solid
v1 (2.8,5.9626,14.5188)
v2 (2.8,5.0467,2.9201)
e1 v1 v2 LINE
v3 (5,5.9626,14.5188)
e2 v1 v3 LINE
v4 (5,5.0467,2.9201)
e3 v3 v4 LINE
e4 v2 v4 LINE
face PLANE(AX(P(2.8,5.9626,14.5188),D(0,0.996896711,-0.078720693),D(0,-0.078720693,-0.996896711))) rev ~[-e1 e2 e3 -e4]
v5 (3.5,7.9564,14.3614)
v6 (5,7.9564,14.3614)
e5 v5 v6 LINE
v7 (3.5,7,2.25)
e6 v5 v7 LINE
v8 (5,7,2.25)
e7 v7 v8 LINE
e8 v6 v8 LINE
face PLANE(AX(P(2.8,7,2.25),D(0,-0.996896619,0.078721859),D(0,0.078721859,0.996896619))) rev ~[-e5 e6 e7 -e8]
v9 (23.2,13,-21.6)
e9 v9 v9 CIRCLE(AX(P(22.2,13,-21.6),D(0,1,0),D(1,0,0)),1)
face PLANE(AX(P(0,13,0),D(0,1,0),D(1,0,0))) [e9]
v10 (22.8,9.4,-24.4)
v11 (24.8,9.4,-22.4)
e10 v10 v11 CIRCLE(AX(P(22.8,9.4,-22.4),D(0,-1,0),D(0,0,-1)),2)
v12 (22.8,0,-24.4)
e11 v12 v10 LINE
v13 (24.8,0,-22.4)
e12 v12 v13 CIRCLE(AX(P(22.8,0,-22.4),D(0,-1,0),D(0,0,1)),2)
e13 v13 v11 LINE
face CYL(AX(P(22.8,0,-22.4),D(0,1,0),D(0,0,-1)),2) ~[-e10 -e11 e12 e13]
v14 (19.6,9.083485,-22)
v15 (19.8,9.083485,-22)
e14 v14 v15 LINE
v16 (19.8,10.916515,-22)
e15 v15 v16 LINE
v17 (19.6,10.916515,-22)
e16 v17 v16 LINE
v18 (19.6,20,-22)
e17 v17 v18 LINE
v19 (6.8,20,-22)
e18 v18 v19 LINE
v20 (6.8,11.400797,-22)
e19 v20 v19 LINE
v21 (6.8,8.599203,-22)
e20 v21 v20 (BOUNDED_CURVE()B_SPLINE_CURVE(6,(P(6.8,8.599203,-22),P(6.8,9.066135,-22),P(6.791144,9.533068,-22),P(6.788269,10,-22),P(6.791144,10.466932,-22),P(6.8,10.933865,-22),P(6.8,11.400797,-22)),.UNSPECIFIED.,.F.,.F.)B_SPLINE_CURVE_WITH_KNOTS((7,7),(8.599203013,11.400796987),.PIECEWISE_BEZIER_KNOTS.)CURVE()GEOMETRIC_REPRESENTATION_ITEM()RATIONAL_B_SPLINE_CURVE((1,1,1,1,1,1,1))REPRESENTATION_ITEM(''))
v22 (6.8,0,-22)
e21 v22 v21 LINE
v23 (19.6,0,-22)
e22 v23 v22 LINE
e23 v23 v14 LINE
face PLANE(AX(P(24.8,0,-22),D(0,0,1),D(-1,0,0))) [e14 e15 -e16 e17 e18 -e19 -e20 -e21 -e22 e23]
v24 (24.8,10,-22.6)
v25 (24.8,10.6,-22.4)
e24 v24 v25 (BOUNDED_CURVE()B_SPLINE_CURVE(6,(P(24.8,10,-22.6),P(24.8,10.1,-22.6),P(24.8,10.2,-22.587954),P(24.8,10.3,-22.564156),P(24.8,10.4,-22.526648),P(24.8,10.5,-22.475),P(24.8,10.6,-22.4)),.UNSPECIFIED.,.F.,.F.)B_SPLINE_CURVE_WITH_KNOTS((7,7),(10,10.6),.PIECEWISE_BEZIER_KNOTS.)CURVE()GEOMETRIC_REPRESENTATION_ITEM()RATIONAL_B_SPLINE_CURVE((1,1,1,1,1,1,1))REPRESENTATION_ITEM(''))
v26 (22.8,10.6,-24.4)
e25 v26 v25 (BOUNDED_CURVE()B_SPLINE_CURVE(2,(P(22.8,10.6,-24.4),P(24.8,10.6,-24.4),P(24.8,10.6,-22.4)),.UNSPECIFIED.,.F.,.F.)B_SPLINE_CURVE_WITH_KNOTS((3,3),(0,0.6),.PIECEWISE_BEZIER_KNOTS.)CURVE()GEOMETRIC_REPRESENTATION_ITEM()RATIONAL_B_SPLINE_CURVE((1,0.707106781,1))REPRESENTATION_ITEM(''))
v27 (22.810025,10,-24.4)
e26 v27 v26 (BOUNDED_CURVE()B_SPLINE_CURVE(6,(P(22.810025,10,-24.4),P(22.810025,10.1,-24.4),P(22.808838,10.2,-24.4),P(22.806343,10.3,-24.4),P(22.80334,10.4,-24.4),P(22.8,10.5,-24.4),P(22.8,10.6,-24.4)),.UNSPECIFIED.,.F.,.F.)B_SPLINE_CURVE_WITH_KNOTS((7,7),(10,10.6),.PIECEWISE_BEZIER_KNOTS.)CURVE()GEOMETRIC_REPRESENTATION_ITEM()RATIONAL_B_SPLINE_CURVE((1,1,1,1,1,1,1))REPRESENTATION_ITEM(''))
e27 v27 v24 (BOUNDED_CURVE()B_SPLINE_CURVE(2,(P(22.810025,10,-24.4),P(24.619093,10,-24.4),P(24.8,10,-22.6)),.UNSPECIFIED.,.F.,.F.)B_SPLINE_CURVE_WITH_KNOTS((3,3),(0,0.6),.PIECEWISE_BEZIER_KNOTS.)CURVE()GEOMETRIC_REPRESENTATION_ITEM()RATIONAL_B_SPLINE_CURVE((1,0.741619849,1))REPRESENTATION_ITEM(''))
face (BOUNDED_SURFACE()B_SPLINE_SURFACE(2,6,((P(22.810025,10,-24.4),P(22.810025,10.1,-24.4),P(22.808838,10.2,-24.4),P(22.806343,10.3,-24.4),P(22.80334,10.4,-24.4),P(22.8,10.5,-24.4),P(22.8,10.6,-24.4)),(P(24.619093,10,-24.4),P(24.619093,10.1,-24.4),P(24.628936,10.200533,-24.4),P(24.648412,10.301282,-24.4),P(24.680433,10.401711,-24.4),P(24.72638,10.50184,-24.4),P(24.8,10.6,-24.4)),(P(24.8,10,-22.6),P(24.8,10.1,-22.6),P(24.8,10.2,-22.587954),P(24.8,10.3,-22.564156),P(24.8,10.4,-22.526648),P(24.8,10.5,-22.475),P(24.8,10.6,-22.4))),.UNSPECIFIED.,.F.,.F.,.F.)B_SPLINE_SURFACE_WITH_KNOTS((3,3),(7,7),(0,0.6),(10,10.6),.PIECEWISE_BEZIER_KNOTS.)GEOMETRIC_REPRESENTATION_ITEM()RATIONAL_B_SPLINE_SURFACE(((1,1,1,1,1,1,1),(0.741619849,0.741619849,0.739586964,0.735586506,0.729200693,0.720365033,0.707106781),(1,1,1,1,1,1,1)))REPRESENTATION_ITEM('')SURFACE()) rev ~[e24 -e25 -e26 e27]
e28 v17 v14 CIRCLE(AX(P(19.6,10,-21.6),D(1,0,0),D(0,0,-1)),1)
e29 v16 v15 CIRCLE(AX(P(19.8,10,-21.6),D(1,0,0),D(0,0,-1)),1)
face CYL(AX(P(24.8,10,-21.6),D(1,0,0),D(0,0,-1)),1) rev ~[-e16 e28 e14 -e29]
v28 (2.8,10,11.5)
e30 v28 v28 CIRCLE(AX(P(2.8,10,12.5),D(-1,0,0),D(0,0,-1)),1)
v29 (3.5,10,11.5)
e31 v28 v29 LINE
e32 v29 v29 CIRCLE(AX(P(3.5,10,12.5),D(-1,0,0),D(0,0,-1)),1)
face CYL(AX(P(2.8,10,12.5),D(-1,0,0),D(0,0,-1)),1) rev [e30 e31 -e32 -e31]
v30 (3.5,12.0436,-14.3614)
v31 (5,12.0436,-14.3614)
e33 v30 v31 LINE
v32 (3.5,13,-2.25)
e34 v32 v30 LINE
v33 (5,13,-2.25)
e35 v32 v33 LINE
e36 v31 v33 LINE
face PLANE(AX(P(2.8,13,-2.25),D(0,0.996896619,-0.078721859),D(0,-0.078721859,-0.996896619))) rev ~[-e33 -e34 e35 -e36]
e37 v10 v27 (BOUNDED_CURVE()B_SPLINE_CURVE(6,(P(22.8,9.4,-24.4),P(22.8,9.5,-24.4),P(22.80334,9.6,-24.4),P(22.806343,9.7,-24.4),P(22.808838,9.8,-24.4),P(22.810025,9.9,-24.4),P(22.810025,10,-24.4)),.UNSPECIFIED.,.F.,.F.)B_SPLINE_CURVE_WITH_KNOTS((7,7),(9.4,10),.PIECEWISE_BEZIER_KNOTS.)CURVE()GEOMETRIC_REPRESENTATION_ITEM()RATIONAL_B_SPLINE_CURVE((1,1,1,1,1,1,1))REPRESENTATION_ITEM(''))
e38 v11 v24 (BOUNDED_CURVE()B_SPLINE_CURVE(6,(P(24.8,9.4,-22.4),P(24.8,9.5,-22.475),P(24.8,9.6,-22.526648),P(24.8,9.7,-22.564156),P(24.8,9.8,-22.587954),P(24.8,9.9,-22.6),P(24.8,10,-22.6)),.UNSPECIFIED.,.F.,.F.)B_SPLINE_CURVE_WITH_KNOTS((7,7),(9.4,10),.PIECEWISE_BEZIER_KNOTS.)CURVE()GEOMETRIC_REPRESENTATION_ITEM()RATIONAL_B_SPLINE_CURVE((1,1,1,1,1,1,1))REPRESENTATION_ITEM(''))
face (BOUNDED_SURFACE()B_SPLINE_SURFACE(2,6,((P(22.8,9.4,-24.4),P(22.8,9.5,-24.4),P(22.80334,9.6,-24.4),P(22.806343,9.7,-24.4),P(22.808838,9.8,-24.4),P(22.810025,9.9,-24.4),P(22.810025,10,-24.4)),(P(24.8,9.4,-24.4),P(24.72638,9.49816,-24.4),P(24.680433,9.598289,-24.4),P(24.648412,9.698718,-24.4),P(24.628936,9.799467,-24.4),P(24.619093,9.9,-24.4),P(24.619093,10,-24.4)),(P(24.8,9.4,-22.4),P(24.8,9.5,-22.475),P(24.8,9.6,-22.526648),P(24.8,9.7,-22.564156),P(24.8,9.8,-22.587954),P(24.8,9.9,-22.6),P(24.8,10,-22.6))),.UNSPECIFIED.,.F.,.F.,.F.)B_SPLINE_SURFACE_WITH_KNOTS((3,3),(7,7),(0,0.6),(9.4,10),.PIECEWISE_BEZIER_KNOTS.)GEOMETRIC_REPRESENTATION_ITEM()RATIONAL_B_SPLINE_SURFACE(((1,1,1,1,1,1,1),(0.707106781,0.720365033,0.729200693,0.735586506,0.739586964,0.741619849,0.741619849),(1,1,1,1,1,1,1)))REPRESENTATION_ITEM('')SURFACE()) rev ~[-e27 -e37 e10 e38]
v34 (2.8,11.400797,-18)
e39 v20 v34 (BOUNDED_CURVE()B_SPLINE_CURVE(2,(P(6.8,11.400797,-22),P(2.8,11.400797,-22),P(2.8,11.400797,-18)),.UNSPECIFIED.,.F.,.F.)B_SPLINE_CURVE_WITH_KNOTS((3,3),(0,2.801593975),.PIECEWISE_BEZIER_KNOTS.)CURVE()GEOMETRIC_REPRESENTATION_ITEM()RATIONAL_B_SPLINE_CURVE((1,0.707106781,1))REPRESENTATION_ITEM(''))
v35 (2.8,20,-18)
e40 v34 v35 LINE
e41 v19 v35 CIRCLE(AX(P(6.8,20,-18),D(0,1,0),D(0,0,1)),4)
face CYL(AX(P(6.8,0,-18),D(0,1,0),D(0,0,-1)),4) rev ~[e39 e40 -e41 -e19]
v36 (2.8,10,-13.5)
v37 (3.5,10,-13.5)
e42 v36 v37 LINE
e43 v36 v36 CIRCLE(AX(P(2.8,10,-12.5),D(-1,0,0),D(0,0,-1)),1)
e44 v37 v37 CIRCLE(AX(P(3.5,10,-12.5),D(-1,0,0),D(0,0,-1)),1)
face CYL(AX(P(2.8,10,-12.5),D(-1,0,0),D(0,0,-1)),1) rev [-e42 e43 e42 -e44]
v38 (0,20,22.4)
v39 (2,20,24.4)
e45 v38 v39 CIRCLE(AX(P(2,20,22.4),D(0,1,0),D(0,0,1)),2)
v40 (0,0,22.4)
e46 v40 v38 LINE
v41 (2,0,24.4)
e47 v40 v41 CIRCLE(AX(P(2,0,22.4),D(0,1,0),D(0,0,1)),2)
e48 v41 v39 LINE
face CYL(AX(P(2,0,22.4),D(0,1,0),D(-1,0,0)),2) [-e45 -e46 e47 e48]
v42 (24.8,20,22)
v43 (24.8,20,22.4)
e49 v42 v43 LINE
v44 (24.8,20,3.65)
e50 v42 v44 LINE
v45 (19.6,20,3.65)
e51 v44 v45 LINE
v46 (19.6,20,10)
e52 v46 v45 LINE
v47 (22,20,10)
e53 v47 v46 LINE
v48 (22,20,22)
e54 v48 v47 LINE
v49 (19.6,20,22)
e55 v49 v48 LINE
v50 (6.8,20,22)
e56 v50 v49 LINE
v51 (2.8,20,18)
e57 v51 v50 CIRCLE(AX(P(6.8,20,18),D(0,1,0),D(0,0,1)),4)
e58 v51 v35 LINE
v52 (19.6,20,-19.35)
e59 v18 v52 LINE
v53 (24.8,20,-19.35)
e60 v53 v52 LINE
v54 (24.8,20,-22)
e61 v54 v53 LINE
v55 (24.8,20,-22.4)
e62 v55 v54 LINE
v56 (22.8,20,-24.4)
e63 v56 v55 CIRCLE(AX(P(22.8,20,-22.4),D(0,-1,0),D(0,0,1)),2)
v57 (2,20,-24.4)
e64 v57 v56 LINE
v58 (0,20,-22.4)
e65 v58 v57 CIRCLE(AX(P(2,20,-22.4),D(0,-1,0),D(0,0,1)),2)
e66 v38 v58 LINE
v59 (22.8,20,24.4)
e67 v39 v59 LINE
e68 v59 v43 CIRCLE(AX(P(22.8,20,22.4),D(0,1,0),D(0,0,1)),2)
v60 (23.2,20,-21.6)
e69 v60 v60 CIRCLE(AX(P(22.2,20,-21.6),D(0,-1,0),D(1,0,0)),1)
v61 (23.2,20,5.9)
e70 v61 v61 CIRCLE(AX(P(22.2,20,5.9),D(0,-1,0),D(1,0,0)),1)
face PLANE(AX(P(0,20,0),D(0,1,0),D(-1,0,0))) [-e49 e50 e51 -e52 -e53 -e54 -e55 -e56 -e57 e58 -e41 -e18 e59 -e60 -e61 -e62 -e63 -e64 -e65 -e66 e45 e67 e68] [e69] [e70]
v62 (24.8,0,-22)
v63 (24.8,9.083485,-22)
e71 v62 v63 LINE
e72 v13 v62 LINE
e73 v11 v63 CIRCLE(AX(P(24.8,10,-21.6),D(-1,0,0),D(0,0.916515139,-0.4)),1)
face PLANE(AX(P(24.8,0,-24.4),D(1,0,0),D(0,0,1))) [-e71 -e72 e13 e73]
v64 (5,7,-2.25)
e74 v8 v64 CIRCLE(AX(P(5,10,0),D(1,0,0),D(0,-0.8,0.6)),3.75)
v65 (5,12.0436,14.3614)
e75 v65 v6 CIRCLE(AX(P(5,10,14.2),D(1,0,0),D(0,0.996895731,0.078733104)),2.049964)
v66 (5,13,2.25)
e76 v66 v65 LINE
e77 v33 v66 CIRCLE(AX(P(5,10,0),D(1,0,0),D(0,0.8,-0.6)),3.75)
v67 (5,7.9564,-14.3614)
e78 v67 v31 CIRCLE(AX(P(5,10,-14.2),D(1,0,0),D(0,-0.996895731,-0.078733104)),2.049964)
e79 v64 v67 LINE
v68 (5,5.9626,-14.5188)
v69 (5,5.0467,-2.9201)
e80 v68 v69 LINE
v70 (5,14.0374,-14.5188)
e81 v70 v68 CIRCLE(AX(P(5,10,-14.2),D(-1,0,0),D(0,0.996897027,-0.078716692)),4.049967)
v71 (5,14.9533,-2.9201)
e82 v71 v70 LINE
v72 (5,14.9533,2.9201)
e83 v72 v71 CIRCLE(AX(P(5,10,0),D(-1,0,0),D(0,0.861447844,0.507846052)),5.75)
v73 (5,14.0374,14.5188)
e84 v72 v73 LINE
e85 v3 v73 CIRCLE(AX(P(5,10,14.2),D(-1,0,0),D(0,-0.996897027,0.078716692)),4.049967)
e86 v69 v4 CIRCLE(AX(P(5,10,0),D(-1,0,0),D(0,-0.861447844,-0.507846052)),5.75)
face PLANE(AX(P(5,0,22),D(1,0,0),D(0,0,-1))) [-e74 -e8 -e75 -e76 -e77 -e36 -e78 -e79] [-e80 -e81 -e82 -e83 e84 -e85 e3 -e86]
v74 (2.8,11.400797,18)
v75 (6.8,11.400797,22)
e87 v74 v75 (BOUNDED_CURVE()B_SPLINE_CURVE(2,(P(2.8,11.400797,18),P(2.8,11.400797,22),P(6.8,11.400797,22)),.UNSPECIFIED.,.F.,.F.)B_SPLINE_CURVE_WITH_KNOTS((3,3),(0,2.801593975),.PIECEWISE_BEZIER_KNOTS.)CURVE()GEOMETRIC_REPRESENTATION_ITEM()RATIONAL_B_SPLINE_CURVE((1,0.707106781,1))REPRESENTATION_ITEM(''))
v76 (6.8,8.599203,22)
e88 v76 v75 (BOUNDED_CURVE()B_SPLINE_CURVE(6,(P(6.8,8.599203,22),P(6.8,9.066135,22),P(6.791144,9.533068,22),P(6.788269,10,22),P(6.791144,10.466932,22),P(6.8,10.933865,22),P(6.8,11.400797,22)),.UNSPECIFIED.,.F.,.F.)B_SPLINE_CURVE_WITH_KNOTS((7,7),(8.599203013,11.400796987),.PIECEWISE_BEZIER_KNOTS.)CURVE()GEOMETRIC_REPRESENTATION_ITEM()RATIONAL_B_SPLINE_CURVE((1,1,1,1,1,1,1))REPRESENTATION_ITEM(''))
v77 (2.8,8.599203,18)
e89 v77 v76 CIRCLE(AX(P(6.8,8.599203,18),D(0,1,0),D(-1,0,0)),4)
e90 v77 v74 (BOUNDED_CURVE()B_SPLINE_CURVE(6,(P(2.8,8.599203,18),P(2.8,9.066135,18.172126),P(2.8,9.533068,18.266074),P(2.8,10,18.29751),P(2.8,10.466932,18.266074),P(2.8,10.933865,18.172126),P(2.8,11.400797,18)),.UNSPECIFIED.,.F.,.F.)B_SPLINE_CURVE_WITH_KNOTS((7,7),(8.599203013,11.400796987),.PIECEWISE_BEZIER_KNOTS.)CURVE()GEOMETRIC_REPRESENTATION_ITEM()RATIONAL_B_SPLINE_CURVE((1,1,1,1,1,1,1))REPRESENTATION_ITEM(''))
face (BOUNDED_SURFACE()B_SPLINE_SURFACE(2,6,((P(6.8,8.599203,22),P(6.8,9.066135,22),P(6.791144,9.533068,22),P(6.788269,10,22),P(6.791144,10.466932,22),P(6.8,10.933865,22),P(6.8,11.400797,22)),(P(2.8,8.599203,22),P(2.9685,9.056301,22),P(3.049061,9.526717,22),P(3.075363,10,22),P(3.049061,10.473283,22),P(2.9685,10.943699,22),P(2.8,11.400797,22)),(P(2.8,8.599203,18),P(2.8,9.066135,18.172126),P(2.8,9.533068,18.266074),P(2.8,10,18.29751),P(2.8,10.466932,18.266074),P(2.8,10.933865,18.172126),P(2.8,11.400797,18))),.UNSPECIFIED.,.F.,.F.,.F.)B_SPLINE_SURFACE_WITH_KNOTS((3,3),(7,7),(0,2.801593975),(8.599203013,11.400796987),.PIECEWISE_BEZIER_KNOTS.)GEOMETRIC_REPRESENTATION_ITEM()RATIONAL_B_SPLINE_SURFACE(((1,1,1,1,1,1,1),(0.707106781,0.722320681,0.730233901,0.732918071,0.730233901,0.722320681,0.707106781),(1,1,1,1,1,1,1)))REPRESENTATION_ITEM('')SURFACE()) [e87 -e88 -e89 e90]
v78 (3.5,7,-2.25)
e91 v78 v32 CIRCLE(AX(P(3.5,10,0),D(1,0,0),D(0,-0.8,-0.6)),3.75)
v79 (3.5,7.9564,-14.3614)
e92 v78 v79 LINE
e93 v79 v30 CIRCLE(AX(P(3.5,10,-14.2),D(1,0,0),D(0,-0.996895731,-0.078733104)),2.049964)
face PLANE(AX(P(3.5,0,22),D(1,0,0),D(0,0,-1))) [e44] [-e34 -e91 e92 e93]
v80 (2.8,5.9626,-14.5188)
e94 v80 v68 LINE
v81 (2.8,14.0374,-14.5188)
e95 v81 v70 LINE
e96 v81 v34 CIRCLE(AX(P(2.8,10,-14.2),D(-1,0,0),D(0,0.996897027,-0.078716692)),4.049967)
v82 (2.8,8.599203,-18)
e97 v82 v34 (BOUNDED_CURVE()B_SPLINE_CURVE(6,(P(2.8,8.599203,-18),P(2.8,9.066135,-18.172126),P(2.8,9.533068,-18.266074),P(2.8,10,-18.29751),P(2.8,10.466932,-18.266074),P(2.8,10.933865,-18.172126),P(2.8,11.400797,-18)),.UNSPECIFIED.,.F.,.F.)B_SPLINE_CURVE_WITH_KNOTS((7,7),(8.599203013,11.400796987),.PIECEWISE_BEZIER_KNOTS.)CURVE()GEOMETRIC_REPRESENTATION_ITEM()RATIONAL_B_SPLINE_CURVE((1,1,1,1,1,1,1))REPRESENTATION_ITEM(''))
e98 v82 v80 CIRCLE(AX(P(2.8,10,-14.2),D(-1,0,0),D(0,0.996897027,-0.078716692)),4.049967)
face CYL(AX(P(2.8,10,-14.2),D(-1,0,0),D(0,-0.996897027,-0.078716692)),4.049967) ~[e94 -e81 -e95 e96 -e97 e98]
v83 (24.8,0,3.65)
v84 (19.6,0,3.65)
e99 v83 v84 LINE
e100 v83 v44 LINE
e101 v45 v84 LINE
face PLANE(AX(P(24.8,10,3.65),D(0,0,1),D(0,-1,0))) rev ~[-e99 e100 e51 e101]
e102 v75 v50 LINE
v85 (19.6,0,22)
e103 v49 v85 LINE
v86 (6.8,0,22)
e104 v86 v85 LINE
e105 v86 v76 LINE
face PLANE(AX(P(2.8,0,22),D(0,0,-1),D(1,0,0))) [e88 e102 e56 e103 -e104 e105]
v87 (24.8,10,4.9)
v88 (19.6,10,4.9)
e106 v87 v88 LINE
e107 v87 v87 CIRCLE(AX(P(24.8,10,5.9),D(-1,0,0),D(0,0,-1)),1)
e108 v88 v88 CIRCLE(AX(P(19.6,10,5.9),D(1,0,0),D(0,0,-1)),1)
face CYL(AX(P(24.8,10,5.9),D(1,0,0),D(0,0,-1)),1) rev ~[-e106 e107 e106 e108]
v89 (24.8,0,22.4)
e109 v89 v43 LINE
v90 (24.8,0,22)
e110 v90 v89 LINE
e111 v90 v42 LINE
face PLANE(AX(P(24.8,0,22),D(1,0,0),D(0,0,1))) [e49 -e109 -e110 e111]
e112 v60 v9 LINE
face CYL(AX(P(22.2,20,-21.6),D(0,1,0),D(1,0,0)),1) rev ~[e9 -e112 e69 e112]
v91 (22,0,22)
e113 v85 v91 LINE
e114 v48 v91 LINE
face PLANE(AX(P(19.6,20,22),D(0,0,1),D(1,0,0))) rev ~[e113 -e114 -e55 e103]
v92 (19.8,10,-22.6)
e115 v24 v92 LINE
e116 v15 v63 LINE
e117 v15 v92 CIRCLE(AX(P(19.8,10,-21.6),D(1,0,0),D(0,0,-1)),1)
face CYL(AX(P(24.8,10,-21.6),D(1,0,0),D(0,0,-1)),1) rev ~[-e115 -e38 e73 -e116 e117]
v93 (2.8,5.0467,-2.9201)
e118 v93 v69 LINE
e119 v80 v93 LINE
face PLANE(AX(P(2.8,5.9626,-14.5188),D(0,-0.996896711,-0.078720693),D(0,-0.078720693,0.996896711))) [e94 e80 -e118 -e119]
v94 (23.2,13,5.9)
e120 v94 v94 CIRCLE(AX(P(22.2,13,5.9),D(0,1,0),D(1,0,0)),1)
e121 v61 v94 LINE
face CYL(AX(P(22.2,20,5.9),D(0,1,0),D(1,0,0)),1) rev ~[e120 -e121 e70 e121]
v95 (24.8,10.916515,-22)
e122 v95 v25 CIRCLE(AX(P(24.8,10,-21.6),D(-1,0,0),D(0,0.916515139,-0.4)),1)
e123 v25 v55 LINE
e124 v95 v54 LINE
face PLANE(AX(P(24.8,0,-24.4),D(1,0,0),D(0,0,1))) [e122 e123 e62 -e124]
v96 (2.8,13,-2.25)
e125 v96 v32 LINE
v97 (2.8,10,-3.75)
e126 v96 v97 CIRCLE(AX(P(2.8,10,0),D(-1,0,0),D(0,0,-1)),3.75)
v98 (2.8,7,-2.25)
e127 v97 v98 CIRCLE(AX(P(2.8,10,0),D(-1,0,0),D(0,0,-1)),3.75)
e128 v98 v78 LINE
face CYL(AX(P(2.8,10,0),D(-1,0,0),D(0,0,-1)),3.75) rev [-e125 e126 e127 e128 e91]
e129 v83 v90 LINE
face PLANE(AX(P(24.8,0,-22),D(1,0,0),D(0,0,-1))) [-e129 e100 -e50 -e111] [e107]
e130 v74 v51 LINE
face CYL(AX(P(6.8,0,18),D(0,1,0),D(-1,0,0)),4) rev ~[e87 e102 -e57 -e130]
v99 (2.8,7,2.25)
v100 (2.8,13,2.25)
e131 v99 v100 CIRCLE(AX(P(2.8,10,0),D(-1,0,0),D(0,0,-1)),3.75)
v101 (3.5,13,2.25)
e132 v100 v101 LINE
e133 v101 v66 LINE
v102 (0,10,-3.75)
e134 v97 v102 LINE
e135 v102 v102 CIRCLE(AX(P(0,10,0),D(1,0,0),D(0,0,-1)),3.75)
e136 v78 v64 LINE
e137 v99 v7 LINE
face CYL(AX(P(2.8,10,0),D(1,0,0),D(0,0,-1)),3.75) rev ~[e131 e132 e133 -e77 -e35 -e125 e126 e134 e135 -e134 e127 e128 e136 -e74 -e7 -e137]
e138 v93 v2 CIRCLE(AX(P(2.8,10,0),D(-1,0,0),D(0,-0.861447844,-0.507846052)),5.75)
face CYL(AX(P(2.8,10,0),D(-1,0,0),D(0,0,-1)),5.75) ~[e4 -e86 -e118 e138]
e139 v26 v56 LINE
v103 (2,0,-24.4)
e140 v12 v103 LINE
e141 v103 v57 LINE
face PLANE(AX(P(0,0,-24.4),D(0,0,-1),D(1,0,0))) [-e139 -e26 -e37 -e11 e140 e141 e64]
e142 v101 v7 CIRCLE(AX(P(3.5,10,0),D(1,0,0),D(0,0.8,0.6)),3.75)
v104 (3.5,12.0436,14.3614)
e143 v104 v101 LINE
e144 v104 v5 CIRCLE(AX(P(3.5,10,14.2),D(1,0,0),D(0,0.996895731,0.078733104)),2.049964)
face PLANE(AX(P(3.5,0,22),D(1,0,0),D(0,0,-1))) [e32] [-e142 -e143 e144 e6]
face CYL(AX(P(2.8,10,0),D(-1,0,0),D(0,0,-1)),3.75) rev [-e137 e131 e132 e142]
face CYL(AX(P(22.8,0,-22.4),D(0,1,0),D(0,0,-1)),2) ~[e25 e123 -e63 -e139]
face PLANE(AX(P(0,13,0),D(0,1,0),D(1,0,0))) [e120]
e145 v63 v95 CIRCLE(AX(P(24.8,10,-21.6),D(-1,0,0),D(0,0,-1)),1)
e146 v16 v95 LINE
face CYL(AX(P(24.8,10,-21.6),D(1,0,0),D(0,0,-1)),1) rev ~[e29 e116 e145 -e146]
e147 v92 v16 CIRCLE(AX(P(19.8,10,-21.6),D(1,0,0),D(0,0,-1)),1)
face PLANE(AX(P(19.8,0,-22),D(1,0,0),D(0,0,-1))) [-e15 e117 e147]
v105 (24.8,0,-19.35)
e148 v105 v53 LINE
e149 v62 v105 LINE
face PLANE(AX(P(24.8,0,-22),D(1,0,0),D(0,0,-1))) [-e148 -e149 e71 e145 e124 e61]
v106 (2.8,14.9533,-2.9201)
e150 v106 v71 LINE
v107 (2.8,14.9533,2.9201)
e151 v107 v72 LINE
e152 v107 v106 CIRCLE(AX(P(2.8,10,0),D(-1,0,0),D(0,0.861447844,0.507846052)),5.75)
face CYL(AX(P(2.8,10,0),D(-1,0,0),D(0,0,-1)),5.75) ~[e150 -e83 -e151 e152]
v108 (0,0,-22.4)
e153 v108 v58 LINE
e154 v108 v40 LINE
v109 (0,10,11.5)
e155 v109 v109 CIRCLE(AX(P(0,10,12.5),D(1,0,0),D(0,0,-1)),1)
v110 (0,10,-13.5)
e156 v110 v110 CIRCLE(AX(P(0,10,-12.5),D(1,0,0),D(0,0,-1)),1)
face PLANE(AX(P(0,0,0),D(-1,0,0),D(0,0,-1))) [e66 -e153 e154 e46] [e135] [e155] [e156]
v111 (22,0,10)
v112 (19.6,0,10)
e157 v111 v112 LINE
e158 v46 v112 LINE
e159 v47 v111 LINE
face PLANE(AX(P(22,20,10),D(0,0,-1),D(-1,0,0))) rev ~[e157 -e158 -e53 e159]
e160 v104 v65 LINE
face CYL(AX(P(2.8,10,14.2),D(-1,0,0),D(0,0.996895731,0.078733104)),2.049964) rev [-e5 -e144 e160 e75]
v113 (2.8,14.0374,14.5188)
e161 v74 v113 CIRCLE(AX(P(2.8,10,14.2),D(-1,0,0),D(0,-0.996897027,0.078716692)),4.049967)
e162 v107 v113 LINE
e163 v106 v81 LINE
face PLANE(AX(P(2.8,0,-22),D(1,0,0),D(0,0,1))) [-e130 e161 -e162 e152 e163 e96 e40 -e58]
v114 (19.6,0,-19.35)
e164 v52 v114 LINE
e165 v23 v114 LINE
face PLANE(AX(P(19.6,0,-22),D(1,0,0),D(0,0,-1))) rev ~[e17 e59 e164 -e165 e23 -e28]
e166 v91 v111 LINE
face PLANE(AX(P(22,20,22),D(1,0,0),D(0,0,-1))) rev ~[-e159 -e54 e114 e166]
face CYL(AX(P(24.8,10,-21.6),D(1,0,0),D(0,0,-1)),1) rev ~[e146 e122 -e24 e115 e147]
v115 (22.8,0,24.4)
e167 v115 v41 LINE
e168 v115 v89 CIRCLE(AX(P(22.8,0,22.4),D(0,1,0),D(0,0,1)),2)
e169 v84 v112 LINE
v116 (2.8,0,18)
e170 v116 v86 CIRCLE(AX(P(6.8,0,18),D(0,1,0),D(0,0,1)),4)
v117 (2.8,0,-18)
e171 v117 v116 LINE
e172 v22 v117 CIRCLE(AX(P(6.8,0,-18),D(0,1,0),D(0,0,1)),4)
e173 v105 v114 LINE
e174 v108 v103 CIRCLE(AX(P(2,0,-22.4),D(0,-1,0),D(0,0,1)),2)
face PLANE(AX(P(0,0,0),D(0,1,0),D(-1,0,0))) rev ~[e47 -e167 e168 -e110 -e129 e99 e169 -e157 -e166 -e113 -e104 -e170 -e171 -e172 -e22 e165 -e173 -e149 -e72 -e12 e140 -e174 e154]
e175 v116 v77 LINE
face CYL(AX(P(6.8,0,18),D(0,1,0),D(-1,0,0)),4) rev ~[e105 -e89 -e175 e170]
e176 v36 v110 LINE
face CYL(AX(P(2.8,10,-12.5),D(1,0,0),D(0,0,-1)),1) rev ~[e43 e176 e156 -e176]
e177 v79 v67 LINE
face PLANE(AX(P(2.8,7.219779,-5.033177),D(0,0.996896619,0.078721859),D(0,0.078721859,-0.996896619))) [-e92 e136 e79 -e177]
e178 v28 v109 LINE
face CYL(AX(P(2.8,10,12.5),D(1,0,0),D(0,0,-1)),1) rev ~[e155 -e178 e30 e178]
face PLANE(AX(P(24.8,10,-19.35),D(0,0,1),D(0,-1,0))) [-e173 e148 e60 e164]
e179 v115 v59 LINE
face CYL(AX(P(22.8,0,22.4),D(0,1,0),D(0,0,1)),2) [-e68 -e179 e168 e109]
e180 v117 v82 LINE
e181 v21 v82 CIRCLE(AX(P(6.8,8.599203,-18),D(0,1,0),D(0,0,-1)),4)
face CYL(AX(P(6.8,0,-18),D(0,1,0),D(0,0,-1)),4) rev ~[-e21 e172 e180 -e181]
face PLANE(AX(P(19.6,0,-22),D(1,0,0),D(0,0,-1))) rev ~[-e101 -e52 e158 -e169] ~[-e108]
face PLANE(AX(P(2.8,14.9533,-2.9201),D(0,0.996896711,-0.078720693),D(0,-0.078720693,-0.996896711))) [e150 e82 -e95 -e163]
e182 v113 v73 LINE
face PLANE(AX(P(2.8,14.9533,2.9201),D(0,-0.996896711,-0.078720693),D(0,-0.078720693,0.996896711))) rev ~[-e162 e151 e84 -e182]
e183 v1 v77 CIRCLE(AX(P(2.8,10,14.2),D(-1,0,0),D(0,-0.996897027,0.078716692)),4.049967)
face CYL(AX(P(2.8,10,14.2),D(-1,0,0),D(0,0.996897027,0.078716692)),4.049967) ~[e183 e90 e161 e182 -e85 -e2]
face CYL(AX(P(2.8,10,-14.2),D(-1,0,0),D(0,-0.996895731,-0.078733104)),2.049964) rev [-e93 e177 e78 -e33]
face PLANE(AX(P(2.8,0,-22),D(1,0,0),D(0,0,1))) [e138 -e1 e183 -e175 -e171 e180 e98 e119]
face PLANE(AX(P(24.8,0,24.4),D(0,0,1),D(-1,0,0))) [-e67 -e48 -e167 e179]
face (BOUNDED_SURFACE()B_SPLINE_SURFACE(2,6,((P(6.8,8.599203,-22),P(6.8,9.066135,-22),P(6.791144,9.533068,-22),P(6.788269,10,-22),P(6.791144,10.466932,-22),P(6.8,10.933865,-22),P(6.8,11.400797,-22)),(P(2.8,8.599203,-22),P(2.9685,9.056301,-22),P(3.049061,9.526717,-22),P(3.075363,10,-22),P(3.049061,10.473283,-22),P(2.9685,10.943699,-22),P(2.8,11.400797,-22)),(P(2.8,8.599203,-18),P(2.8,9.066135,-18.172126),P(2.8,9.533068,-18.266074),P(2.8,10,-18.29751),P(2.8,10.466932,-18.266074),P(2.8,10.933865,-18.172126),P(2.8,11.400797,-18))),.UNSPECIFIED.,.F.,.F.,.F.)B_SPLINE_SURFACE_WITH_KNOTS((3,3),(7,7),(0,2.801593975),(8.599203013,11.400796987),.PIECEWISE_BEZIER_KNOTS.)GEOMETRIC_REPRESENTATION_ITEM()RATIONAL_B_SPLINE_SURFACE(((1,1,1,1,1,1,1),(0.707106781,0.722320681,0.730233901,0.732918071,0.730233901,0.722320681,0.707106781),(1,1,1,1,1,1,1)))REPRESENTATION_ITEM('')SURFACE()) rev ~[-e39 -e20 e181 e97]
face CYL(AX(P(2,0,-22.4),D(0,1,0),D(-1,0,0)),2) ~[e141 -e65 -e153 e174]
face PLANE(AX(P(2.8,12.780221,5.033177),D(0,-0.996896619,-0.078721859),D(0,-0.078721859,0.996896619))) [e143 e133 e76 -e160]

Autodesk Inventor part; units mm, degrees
ref_plane "YZ Plane" through (0, 0, 0) normal (1, 0, 0) x (0, 1, 0)
ref_plane "XZ Plane" through (0, 0, 0) normal (0, 1, 0) x (-1, 0, 0)
ref_plane "XY Plane" through (0, 0, 0) normal (0, 0, 1) x (1, 0, 0)
sketch "スケッチ1" plane through (0, 0, 0) normal (0, 1, 0) x (-1, 0, 0)
  line L0 (34.0614, 0) -> (-44.6235, 0)
  line L1 (0, 24.4) -> (0, -24.4)
  line L2 (0, -24.4) -> (-24.8, -24.4)
  line L3 (-24.8, -24.4) -> (-24.8, -22)
  line L4 (-24.8, -22) -> (-2.8, -22)
  line L5 (-2.8, -22) -> (-2.8, 22)
  line L6 (-2.8, 22) -> (-24.8, 22)
  line L7 (-24.8, 22) -> (-24.8, 24.4)
  line L8 (-24.8, 24.4) -> (0, 24.4)
  point P0 (0, 0)
  dimension "d0" = 2.8
  dimension "d1" = 48.8
  dimension "d2" = 24.4
  dimension "d3" = 2.4
  dimension "d4" = 2.4
  dimension "d5" = 22
extrude "押し出し1" add sketch "スケッチ1" along normal blind 20
sketch "スケッチ2" plane through (2.8, 0, 22) normal (1, 0, 0) x (0, 0, -1)
  line L0 (0, 20) -> (44, 20) projected
  line L1 (22, 20) -> (22, 0)
  line L2 (0, 0) -> (44, 0) projected
  line L3 (-2.4, 0) -> (-2.4, 20) projected
  line L4 (-2.4, 10) -> (46.4, 10)
  line L5 (46.4, 0) -> (46.4, 20) projected
  circle A0 centre (22, 10) radius 3.75
  arc A1 (7.6386, 12.0436) -> (7.6386, 7.9564) centre (7.8, 10) ccw
  line L6 (19.75, 13) -> (7.6386, 12.0436)
  line L7 (19.75, 7) -> (7.6386, 7.9564)
  circle A2 centre (9.5, 10) radius 1
  arc A3 (36.3614, 7.9564) -> (36.3614, 12.0436) centre (36.2, 10) ccw
  line L8 (24.25, 13) -> (36.3614, 12.0436)
  line L9 (24.25, 7) -> (36.3614, 7.9564)
  circle A4 centre (34.5, 10) radius 1
  line L10 (19.0799, 14.9533) -> (7.4812, 14.0374)
  arc A5 (7.4812, 14.0374) -> (7.4812, 5.9626) centre (7.8, 10) ccw
  line L11 (7.4812, 5.9626) -> (19.0799, 5.0467)
  circle A6 centre (22, 10) radius 5.75
  line L12 (24.9201, 14.9533) -> (36.5188, 14.0374)
  arc A7 (36.5188, 5.9626) -> (36.5188, 14.0374) centre (36.2, 10) ccw
  line L13 (36.5188, 5.9626) -> (24.9201, 5.0467)
  point P0 (18.25, 10)
  point P1 (22, 6.25)
  point P2 (24.25, 13)
  point P3 (24.25, 7)
  point P4 (19.75, 7)
  point P5 (27.0332, 12.7802)
  point P6 (27.0332, 7.2198)
  point P7 (16.9668, 12.7802)
  point P8 (16.9668, 7.2198)
  dimension "d9" = 7.5
  dimension "d8" = 24.4
  dimension "d10" = 6
  dimension "d11" = 14.2
  dimension "d12" = 2.05
  dimension "d13" = 2
  dimension "d14" = 12.5
  dimension "d34" = 2
  dimension "d35" = 2
  dimension "d36" = 2
extrude "押し出し2" cut sketch "スケッチ2" against normal through all contours A0 L4 L1 | L1 L4 A0 | L4 A0 L1 | L1 A0 L4 | A4 L4 | L4 A4 | A2 L4 | L4 A2
extrude "押し出し6" add sketch "スケッチ2" along normal blind 2.2 contours A6 L8 A0 L1 | L1 A0 L6 A6 | L12 A7 L4 A3 L8 A6 | A6 L6 A1 L4 A5 L10 | A0 L9 A6 L1 | L1 A6 L7 A0 | A7 L13 A6 L9 A3 L4 | L4 A1 L7 A6 L11 A5
extrude "押し出し3" add sketch "スケッチ2" along normal blind 0.7 contours L8 A6 L4 A0 | A0 L4 A6 L6 | L8 A3 L4 A4 A6 | A6 L4 A2 A1 L6 | A0 L7 A6 L4 | L4 A6 L9 A0 | L4 A4 A3 L9 A6 | A6 L7 A1 L4 A2
sketch "スケッチ3" plane through (24.8, 0, -22) normal (1, 0, 0) x (0, 0, -1)
  line L0 (-46.4, 0) -> (-46.4, 20) projected
  line L1 (2.4, 0) -> (-46.4, 0) projected
  line L2 (-46.4, 20) -> (-25.65, 20)
  line L3 (-25.65, 20) -> (-25.65, 0)
  line L4 (-25.65, 0) -> (-46.4, 0)
  line L5 (-46.4, 0) -> (-46.4, 20)
  line L6 (2.4, 20) -> (-46.4, 20) projected
  line L7 (2.4, 20) -> (-2.65, 20)
  line L8 (-2.65, 20) -> (-2.65, 0)
  line L9 (-2.65, 0) -> (2.4, 0)
  line L10 (2.4, 0) -> (2.4, 20)
  line L11 (-46.4, 10) -> (2.4, 10)
  line L12 (-19.4, 20) -> (-19.4, 0)
  circle A0 centre (-27.9, 10) radius 1
  circle A1 centre (-0.4, 10) radius 1
  point P0 (-22, 0)
  point P1 (-2.65, 20)
  point P2 (-2.65, 0)
  point P3 (2.4, 0)
  dimension "d19" = 27
  dimension "d20" = 6.25
  dimension "d21" = 16.75
  dimension "d22" = 2.25
  dimension "d23" = 2.25
  dimension "d24" = 2
extrude "押し出し4" add sketch "スケッチ3" against normal blind 5.2 contours L0 L11 A0 L3 L1 | L0 L2 L3 L11 A0 | L8 L11 A1 L10 L1 | L8 L6 L10 L11 A1
extrude "押し出し8" cut sketch "スケッチ3" against normal blind 5 contours A1 L11 | L11 A1
sketch "スケッチ4" plane through (0, 20, 0) normal (0, 1, 0) x (1, 0, 0)
  line L0 (22.2, 20.9661) -> (22.2, -25.0757)
  line L1 (19.6, -22) -> (19.6, -3.65) projected
  circle A0 centre (22.2, -5.9) radius 1
  circle A1 centre (22.2, 21.6) radius 1
  line L2 (24.8, -3.65) -> (19.6, -3.65) projected
  line L3 (24.8, 19.35) -> (19.6, 19.35) projected
  line L4 (24.8, -24.4) -> (24.8, -3.65) projected
  point P0 (0, 0)
  point P1 (24.8, -24)
  dimension "d28" = 2.6
  dimension "d29" = 2.25
  dimension "d30" = 2
  dimension "d31" = 2.25
extrude "押し出し5" cut sketch "スケッチ4" against normal blind 7
sketch "スケッチ5" plane through (0, 20, 0) normal (0, 1, 0) x (1, 0, 0)
  line L0 (19.6, -22) -> (2.8, -22) projected
  line L1 (19.6, -22) -> (22, -22)
  line L2 (22, -22) -> (22, -10)
  line L3 (22, -10) -> (19.6, -10)
  line L4 (19.6, -22) -> (19.6, -3.65) projected
  line L5 (24.8, -24.4) -> (24.8, -3.65) projected
  point P0 (0, 0)
  dimension "d39" = 2.8
  dimension "d40" = 12
extrude "押し出し7" cut sketch "スケッチ5" against normal through all
fillet "フィレット2" radius 2 2 edges at (0, 10, 24.4) (0, 10, -24.4)
fillet "フィレット4" radius 2 2 edges at (24.8, 10, 24.4) (24.8, 10, -24.4)
fillet "フィレット5" radius 4 1 edges at (2.8, 10, -22)
fillet "フィレット6" radius 4 1 edges at (2.8, 10, 22)
properties part number "joint4"
